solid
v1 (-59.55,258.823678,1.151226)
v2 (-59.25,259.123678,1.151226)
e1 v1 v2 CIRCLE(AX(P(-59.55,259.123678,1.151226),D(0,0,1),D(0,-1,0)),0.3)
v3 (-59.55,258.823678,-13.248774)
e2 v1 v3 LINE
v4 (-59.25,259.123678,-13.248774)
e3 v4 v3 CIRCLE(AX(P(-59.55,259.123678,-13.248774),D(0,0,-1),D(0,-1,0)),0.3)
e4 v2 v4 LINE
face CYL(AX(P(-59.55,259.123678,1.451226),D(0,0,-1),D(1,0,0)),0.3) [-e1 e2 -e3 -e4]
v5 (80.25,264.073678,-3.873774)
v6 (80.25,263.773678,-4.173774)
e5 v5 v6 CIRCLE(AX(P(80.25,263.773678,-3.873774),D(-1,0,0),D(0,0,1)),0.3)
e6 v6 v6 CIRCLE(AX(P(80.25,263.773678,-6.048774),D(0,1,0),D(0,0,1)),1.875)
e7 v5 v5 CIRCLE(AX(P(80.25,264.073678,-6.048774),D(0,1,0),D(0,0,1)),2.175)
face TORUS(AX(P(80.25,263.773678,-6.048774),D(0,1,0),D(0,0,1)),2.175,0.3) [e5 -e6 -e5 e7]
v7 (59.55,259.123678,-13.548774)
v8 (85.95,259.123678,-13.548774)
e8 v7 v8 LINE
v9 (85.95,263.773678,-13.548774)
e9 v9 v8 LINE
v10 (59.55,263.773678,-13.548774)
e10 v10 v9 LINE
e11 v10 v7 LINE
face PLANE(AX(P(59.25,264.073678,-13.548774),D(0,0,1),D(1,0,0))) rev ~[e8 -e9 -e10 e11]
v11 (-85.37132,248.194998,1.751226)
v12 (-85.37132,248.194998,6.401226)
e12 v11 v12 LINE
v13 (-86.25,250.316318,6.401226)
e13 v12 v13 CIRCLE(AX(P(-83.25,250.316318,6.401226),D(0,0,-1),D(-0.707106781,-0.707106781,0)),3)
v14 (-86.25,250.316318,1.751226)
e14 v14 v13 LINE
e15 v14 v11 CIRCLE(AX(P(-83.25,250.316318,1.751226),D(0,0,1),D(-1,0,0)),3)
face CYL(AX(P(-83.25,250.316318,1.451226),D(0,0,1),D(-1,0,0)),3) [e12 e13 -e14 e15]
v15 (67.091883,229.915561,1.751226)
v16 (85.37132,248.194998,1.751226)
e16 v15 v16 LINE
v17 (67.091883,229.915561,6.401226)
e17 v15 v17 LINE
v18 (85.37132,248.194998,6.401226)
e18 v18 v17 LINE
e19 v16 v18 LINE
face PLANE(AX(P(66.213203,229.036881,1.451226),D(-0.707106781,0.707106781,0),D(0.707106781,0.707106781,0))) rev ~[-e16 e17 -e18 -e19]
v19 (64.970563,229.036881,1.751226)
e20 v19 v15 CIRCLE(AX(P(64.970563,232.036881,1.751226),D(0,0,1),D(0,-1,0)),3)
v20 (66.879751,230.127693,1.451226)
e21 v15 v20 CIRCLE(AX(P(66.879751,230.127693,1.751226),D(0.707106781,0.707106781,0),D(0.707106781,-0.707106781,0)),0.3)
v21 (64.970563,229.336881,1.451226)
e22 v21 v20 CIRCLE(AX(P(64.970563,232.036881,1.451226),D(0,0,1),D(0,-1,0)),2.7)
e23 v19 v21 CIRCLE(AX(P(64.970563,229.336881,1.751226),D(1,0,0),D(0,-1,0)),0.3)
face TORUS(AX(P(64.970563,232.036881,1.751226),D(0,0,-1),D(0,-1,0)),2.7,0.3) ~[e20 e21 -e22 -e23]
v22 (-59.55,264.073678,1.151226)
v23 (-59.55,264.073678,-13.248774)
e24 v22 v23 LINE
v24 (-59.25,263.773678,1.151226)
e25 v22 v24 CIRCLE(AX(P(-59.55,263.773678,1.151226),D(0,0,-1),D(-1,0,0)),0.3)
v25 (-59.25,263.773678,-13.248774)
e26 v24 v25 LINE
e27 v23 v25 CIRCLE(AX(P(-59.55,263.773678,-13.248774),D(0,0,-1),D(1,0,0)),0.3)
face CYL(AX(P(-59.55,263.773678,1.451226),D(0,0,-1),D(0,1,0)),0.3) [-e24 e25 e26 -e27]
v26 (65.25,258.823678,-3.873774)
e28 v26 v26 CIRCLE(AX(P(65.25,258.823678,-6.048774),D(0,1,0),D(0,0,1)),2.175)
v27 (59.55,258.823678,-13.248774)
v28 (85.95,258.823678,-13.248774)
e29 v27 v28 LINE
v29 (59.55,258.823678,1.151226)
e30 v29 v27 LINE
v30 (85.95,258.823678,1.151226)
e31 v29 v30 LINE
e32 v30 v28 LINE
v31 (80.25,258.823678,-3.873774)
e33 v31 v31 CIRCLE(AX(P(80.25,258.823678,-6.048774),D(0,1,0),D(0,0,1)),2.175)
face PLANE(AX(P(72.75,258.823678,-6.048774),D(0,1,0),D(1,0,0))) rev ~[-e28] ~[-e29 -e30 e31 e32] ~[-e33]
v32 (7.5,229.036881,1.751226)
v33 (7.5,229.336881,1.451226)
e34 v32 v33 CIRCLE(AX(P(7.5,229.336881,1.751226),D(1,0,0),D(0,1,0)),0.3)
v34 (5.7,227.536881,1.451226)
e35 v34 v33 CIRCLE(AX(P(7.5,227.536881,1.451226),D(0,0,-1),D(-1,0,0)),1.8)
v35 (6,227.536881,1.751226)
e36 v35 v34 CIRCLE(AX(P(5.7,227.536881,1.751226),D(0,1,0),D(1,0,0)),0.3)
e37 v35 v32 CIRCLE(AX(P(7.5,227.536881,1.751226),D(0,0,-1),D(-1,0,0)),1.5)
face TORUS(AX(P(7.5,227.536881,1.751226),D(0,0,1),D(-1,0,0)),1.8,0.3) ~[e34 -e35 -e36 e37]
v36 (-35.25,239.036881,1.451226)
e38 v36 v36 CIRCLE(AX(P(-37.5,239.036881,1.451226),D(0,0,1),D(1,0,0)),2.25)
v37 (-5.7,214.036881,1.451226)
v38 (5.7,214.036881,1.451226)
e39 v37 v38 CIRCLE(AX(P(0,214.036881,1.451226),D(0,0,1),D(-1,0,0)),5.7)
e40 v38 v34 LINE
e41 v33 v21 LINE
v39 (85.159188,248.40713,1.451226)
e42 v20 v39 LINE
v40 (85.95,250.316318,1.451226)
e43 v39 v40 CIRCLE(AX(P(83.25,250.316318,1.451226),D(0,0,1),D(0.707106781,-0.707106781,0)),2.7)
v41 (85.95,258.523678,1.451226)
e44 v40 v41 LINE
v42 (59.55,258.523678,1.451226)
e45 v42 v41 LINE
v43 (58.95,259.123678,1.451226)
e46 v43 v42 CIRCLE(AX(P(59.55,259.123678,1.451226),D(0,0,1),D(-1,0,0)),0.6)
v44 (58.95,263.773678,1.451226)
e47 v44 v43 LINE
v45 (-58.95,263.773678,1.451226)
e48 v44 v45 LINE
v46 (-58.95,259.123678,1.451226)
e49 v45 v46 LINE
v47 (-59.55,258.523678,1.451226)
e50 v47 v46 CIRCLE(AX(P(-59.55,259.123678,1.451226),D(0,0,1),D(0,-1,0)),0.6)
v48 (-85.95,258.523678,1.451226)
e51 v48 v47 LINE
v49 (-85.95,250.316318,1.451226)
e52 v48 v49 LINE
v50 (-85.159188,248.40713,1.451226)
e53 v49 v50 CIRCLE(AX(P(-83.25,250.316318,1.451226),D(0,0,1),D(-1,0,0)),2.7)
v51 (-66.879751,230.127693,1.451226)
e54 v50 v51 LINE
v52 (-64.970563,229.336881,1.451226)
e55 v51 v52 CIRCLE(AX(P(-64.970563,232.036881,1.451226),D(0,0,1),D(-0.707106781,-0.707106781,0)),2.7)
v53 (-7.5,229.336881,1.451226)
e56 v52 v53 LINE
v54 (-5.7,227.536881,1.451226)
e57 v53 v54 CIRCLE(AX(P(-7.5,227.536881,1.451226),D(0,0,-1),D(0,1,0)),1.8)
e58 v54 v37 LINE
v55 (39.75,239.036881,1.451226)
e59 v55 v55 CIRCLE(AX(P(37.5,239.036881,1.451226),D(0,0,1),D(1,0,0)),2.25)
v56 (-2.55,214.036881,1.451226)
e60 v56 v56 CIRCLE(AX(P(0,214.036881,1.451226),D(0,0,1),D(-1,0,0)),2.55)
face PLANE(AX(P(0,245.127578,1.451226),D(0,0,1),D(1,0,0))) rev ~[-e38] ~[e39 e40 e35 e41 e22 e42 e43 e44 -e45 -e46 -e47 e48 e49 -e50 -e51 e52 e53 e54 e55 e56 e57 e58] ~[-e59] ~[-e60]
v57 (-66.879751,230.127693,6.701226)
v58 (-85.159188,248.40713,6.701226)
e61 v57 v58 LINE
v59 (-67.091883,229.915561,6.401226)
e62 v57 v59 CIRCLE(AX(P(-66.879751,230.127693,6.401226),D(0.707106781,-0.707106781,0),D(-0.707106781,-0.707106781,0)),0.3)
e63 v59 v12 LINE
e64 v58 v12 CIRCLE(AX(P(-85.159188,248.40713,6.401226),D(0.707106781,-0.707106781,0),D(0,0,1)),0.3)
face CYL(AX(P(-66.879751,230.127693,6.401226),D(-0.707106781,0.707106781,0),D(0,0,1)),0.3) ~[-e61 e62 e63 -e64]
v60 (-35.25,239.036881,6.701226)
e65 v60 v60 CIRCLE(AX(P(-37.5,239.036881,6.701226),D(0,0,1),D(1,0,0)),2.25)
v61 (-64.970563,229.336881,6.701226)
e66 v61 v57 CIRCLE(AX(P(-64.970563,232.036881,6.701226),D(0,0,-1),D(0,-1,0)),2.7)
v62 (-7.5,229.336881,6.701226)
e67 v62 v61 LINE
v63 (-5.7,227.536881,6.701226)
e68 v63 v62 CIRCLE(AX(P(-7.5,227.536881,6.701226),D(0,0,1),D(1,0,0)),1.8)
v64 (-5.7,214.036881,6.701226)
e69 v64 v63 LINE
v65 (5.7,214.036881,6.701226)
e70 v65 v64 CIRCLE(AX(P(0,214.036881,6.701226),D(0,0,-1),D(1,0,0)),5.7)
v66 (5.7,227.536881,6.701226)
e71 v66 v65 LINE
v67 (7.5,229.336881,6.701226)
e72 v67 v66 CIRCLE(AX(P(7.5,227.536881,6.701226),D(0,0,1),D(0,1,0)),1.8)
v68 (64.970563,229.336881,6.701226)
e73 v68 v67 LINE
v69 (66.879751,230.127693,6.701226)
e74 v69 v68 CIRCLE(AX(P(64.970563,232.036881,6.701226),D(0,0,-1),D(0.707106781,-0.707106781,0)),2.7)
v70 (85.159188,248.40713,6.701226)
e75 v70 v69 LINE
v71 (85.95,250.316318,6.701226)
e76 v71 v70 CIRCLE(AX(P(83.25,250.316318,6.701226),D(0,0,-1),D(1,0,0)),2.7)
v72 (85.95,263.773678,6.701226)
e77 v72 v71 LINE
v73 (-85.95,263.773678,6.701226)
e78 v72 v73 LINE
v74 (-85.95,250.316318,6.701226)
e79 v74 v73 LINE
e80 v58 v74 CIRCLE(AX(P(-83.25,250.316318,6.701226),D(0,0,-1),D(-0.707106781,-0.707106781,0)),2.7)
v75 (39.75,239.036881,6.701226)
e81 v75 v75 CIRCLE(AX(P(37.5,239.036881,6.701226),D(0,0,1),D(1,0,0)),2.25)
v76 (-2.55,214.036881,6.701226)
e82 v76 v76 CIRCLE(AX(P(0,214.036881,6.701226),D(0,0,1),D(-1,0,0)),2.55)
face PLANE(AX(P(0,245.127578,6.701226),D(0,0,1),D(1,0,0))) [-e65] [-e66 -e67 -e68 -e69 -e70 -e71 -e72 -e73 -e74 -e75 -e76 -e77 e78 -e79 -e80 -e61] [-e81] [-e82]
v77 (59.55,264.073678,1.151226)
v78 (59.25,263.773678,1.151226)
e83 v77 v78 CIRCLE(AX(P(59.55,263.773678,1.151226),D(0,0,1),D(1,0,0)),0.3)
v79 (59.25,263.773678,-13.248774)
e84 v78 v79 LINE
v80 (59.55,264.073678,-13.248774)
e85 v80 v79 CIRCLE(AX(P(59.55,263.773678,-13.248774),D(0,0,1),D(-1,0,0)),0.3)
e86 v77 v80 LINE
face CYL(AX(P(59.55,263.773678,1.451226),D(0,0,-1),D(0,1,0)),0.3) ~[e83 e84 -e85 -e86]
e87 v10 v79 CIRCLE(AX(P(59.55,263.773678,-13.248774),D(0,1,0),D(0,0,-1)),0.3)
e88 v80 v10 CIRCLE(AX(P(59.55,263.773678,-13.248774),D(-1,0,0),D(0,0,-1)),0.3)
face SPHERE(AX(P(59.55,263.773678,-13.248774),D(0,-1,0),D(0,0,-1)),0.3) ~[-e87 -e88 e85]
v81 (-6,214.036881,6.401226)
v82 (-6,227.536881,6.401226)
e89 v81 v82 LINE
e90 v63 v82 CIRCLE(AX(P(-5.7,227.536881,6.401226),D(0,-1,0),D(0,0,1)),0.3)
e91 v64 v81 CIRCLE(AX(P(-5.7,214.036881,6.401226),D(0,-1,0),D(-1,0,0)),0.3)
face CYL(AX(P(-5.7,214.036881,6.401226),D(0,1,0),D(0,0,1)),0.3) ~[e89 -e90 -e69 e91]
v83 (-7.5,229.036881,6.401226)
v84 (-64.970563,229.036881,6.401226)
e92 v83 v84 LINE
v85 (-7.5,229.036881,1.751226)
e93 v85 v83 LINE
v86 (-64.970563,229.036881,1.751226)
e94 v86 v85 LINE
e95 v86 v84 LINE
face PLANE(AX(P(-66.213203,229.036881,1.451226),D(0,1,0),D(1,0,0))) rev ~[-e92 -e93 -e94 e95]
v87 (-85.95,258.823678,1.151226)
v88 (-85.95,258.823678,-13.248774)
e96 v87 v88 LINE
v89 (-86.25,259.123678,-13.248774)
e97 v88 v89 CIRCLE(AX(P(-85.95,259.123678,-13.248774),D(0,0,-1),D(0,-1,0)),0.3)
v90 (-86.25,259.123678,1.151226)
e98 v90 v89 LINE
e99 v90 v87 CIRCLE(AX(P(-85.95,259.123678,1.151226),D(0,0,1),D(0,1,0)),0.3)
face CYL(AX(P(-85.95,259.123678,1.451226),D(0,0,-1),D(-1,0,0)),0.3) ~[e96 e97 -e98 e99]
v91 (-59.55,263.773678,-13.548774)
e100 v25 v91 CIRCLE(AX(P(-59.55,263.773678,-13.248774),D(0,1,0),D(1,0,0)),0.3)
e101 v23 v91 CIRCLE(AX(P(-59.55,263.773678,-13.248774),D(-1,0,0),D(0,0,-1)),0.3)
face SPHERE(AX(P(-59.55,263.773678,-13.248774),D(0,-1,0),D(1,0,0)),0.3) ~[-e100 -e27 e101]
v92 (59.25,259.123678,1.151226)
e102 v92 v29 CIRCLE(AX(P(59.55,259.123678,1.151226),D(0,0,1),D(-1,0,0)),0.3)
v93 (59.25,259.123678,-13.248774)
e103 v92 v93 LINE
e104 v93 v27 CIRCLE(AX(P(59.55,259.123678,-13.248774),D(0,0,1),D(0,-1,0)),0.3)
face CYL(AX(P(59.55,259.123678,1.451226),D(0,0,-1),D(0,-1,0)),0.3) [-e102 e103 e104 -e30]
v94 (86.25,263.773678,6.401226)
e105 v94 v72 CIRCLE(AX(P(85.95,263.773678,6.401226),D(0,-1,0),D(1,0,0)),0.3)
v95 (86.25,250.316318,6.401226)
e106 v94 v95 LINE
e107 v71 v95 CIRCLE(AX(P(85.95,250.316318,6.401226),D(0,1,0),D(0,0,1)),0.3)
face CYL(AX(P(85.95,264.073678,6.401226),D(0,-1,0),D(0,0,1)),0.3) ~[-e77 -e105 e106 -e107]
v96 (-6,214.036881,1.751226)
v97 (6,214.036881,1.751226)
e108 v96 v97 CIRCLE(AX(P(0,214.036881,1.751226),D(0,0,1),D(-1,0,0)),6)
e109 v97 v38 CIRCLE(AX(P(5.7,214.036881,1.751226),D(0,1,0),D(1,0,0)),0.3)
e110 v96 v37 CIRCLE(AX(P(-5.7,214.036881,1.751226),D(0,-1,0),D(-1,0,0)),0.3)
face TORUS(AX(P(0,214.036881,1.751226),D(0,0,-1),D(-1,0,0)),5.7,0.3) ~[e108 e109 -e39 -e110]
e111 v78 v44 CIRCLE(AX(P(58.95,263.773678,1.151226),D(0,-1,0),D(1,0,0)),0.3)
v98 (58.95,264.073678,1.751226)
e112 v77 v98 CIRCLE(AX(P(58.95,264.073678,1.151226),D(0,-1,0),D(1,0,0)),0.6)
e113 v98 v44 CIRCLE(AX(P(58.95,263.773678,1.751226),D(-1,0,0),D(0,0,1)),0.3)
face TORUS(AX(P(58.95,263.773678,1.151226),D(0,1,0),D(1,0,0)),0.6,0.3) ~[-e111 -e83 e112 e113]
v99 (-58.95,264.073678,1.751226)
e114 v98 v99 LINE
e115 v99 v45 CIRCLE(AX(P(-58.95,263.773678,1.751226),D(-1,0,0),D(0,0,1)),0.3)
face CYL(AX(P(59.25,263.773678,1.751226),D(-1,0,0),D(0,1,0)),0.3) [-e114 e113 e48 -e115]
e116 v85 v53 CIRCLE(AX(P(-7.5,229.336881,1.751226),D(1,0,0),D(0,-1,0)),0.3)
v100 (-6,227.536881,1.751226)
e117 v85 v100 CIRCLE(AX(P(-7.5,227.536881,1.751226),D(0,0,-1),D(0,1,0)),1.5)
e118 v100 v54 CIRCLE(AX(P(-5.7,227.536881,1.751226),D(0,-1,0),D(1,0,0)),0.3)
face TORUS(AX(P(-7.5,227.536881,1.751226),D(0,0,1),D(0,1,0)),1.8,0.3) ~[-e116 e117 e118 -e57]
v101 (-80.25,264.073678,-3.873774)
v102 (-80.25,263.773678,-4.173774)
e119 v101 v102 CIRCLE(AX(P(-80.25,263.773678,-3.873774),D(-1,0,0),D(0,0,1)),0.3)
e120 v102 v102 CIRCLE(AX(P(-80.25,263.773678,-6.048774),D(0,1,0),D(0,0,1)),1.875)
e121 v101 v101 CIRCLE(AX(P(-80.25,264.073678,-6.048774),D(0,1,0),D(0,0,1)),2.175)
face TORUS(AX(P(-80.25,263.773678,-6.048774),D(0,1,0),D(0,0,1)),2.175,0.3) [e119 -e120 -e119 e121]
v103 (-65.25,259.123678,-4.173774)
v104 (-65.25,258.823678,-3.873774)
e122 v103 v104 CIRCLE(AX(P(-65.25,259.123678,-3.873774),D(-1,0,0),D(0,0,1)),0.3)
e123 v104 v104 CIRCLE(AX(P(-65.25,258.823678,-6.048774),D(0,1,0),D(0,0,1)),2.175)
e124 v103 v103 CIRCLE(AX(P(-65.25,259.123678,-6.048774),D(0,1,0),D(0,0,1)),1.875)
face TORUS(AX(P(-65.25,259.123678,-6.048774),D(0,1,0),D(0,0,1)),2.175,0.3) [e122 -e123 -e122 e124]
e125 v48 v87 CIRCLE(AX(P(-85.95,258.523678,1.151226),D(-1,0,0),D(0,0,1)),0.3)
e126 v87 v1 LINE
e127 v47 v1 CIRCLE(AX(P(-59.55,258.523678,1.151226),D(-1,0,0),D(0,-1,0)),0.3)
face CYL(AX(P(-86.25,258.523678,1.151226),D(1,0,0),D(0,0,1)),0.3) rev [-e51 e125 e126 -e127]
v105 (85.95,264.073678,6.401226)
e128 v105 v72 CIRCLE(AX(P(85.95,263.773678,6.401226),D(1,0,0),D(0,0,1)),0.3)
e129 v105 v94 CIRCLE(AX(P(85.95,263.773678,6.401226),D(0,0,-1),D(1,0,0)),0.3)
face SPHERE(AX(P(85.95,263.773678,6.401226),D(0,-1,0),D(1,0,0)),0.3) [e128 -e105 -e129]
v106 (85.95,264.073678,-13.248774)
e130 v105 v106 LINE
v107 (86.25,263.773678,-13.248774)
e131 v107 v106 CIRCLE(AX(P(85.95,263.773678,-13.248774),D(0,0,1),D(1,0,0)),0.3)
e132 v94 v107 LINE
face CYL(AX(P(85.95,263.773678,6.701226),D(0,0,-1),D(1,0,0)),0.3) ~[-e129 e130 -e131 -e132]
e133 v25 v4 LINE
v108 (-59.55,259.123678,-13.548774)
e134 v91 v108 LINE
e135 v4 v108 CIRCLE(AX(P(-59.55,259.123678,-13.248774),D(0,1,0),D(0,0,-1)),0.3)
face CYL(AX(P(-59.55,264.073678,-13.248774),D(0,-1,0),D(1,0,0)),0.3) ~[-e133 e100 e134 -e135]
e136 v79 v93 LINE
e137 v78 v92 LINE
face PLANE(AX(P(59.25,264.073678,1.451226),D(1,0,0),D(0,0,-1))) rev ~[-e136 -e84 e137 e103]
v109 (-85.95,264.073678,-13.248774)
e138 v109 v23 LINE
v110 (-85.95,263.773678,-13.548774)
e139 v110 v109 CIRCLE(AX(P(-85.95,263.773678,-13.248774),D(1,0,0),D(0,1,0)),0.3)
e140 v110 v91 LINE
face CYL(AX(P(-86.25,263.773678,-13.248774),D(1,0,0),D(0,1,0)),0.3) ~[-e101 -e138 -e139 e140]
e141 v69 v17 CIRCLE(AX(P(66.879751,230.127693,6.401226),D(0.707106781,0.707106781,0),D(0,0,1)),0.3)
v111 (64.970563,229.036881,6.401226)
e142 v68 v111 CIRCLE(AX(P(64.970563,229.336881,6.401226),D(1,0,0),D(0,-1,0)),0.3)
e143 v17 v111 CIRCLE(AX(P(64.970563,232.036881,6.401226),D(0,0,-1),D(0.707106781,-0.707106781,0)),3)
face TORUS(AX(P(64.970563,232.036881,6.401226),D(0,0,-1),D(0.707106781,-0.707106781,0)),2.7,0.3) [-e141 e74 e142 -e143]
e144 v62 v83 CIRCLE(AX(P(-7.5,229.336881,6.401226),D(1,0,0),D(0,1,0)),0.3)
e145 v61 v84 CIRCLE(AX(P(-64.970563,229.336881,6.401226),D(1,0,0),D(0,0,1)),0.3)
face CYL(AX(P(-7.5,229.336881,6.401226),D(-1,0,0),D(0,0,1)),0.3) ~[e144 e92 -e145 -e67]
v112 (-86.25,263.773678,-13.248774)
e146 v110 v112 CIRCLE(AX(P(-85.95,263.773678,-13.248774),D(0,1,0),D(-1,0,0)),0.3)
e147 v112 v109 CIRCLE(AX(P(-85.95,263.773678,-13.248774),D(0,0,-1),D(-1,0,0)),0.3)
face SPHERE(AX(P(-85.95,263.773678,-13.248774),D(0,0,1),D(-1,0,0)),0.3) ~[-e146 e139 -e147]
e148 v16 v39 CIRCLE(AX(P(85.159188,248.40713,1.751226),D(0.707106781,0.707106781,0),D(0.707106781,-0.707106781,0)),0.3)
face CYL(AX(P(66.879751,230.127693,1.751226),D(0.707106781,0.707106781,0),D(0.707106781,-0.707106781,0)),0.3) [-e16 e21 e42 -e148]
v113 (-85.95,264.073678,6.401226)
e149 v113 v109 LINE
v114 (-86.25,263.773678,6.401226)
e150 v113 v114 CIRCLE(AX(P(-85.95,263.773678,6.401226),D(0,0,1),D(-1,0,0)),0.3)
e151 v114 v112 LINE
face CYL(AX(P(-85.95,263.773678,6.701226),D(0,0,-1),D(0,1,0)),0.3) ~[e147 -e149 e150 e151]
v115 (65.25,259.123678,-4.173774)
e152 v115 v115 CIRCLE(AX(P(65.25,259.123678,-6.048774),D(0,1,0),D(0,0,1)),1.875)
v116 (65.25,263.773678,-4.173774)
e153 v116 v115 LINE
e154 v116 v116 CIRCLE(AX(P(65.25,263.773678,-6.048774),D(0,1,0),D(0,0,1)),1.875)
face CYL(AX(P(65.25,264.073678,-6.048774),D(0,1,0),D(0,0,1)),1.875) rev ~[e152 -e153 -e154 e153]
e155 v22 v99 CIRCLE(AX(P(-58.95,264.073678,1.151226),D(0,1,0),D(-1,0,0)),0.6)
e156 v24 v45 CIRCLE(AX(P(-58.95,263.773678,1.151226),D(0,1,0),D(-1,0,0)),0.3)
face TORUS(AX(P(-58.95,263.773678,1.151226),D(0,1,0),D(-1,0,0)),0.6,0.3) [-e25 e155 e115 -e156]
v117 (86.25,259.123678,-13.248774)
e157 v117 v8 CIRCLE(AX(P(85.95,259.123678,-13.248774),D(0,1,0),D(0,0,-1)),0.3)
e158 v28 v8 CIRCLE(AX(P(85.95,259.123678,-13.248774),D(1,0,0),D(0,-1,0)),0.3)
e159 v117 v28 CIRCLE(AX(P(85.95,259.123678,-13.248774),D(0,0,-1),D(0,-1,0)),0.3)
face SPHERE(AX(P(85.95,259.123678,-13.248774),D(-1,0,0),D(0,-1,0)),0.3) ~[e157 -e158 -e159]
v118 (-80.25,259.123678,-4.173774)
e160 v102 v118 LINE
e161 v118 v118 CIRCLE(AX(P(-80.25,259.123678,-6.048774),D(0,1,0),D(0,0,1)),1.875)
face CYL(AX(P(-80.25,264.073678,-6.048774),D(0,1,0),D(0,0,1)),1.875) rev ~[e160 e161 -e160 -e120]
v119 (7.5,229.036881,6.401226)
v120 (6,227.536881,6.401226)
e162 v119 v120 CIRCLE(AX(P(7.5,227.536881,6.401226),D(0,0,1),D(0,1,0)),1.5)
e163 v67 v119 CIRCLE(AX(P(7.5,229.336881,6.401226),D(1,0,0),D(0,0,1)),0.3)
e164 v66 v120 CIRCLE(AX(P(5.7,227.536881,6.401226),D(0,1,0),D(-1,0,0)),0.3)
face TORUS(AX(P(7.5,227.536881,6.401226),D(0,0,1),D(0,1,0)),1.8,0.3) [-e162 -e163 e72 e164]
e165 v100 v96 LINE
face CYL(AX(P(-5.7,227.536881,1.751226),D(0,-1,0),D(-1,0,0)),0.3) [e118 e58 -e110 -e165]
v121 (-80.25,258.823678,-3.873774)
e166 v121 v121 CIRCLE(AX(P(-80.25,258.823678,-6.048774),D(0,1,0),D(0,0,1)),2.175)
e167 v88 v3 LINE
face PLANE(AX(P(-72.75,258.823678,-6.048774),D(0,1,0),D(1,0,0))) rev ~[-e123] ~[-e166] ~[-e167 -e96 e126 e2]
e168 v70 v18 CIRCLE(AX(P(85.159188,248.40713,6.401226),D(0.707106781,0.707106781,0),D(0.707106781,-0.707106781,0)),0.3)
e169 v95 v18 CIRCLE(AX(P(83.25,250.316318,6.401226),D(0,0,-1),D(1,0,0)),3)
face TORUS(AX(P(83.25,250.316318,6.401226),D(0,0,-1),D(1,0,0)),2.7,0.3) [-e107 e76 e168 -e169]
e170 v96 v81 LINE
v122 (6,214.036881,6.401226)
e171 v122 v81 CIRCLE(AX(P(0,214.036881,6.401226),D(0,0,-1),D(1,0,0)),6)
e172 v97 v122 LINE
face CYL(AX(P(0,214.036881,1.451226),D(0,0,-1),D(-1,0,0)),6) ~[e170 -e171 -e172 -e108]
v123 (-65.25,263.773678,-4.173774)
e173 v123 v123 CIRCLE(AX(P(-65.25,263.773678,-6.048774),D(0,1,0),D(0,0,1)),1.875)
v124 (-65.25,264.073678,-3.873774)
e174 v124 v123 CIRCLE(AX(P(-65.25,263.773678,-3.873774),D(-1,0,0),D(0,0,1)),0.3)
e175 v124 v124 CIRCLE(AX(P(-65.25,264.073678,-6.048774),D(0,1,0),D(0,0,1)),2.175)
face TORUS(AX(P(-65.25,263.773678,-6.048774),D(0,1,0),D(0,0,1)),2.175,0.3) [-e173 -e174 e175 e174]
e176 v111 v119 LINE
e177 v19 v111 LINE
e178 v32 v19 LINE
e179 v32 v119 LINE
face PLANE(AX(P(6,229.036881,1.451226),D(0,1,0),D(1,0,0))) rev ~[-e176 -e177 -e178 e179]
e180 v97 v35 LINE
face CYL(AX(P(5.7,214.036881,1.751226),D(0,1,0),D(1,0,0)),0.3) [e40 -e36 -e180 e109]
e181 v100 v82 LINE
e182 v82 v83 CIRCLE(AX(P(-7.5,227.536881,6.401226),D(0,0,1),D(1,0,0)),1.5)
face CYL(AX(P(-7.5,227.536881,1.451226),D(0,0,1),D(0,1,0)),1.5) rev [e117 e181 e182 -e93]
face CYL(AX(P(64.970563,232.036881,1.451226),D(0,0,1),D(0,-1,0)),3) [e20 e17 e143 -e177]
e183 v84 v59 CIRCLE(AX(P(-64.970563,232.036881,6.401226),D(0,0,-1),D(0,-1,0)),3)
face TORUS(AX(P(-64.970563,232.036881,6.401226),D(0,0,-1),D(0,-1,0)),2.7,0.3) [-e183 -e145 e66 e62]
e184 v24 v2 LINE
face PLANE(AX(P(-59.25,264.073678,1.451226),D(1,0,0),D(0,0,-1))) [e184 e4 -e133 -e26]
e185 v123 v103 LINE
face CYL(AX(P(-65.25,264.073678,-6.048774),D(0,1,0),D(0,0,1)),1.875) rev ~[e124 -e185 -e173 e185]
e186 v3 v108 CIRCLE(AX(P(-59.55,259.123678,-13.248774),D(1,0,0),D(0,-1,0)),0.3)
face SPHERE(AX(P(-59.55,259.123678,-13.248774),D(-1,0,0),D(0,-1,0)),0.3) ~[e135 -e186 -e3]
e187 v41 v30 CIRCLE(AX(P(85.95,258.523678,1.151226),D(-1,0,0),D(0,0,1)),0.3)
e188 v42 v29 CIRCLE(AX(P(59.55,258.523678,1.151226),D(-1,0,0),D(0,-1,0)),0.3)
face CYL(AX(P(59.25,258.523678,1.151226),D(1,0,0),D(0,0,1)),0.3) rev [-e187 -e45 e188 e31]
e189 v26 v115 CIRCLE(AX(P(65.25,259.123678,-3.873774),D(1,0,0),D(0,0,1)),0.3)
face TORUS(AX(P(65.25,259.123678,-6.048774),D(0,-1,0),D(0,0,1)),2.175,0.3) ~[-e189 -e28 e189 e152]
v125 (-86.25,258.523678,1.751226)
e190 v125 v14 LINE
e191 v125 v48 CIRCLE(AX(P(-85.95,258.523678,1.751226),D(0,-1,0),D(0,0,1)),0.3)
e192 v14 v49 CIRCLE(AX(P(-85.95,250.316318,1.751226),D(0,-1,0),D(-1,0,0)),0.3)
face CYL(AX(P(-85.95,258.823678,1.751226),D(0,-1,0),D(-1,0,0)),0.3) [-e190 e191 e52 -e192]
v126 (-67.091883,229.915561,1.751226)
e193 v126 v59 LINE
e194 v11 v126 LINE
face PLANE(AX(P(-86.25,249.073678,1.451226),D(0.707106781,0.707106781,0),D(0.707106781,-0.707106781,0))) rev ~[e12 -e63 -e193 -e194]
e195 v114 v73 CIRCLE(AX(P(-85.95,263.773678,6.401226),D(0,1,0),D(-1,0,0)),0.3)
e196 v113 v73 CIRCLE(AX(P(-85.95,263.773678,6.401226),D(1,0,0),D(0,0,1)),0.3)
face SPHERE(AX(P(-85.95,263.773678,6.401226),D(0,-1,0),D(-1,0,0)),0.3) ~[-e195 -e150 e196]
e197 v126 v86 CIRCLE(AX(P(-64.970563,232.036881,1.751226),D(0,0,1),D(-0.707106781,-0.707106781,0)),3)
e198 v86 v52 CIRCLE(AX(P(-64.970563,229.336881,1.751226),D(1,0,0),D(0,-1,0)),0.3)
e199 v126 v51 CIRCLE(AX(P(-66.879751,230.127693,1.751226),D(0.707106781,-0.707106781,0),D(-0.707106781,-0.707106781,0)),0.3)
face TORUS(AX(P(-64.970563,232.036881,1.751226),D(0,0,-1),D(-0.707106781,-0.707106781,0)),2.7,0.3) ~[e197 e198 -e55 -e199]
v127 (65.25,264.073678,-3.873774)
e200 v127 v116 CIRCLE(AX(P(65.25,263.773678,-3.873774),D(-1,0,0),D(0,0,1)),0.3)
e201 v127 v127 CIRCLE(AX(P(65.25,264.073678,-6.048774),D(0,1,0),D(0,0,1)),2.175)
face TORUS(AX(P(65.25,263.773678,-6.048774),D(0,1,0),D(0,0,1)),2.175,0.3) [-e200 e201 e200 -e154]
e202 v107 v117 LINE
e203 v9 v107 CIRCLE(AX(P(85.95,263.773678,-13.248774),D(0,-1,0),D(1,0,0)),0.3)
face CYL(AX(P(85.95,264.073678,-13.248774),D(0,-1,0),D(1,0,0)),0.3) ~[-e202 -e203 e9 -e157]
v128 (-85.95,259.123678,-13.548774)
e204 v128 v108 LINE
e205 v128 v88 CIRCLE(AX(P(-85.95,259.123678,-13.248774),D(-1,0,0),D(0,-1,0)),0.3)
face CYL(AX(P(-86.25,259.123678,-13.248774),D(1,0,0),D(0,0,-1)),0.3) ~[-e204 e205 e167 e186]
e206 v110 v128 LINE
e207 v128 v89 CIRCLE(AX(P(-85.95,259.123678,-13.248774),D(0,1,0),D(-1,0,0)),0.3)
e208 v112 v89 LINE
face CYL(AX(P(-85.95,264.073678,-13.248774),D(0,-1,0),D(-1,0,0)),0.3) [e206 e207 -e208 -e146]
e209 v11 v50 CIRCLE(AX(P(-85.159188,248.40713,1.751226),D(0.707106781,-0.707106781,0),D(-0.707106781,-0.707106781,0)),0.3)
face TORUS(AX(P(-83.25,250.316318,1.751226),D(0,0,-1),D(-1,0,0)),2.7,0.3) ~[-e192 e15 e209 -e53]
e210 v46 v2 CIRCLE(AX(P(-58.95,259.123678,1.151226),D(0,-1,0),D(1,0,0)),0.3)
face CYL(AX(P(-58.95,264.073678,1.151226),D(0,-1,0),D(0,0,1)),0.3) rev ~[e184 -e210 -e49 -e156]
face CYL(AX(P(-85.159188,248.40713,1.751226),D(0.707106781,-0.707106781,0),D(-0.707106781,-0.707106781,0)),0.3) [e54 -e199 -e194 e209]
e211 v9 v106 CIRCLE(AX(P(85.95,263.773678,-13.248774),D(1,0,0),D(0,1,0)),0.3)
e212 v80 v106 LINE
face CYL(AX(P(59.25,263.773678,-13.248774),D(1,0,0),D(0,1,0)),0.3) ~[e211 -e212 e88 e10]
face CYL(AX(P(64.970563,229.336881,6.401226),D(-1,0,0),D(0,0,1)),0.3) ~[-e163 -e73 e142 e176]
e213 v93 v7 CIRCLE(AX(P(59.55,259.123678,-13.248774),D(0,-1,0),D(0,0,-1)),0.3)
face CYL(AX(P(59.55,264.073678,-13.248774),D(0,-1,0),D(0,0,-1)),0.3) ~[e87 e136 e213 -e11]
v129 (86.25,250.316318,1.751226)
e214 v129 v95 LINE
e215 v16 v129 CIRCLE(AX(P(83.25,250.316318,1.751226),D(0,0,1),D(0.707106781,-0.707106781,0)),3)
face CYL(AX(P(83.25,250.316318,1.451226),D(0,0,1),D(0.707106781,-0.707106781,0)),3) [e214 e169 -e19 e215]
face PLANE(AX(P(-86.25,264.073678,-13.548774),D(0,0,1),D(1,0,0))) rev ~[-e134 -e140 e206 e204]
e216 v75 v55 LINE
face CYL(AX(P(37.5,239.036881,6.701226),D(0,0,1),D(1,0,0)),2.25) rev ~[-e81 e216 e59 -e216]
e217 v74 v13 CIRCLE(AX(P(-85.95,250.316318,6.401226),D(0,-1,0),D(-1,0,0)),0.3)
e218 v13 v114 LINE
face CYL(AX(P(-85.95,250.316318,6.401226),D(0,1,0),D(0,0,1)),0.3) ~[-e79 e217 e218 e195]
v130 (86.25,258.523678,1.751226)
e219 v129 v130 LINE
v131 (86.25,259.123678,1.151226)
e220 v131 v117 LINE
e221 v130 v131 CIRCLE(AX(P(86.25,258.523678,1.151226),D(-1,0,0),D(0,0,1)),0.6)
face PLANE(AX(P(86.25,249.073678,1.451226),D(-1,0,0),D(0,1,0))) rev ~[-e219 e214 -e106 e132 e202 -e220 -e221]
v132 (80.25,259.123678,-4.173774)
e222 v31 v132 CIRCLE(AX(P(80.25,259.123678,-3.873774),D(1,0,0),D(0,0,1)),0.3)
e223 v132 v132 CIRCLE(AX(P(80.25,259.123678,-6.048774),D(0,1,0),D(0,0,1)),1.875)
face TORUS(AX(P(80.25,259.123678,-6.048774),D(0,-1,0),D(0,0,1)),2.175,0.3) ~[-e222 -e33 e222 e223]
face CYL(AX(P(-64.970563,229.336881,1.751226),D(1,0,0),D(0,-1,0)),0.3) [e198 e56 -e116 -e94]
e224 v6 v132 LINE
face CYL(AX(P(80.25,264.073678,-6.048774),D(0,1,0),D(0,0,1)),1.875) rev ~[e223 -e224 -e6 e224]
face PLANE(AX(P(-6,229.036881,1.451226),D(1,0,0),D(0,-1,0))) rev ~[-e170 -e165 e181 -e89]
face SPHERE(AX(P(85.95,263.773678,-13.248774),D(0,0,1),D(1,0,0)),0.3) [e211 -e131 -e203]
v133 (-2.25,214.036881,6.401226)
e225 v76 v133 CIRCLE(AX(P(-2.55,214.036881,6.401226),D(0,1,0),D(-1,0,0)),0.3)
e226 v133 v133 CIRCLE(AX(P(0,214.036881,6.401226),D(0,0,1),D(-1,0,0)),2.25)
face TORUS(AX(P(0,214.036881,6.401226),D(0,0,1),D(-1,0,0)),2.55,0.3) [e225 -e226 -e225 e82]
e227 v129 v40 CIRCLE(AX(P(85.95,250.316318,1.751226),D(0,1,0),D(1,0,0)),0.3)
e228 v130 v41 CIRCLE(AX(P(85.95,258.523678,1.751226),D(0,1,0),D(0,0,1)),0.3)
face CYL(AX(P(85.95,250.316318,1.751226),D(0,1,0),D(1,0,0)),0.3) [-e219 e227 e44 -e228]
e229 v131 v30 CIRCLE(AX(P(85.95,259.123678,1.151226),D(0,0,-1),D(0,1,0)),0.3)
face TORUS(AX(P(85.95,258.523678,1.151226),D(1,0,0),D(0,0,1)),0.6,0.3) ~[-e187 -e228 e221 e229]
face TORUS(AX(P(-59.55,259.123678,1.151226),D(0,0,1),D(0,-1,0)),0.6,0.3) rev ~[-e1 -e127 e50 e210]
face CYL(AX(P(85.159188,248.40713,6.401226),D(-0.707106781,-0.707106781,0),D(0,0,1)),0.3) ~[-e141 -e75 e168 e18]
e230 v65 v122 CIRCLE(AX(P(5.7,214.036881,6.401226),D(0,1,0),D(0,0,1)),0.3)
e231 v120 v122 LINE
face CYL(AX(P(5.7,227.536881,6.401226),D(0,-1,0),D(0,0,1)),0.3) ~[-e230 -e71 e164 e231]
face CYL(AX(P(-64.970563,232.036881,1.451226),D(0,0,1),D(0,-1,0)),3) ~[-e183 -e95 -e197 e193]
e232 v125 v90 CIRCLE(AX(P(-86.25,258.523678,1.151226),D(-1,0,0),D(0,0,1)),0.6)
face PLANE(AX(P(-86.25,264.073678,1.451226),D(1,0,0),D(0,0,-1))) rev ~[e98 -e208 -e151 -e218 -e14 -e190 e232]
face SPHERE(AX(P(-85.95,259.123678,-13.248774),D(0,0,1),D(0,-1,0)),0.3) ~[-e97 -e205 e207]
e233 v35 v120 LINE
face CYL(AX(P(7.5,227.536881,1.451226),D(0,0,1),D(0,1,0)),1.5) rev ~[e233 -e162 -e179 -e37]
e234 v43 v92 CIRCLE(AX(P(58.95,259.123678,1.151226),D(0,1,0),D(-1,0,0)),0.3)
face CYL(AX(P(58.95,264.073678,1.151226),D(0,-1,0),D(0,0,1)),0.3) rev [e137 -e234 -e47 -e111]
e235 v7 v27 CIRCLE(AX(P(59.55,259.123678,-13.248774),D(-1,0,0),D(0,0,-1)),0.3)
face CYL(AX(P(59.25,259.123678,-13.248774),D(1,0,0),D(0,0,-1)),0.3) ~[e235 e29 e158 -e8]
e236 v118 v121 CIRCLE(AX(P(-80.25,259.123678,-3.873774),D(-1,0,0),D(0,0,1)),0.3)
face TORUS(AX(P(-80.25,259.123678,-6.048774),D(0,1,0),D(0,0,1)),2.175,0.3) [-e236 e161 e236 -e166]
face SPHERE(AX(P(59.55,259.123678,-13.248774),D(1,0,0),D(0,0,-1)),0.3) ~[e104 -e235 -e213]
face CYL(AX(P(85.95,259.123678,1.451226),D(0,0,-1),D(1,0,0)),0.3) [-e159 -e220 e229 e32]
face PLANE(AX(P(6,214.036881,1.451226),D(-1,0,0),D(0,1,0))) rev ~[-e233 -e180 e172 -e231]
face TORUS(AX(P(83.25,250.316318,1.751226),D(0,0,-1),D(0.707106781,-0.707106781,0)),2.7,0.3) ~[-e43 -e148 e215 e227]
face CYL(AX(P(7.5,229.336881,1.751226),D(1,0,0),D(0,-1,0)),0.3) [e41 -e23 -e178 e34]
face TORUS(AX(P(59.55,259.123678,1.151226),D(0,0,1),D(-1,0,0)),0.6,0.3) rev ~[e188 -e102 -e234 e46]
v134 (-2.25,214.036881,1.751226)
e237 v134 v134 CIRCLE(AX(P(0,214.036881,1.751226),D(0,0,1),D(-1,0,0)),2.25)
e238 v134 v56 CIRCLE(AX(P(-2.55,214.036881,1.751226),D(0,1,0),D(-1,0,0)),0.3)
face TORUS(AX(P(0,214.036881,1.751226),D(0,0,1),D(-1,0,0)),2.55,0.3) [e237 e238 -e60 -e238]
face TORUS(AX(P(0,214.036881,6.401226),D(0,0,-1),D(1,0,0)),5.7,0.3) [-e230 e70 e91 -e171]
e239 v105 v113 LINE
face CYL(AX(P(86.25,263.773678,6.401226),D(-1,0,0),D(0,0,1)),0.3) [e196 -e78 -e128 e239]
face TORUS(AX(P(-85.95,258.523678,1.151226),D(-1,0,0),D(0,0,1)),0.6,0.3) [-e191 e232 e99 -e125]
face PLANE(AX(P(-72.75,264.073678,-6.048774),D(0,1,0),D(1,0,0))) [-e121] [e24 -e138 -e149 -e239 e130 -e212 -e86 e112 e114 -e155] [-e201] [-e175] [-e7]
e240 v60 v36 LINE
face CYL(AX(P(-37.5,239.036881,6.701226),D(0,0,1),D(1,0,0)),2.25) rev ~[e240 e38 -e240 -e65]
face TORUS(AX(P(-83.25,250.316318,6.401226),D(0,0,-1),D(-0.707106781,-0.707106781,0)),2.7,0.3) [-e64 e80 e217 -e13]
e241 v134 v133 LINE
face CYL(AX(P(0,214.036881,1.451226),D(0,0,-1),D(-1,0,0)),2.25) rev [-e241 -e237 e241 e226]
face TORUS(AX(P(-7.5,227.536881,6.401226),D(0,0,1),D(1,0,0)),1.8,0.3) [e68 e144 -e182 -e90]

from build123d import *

# Parameters (mm, degrees)
SKETCH5_R           = 4.5
BOSS_EXTRUDE2_DEPTH = 10.5
SKETCH8_W           = 54
SKETCH8_H           = 30
SKETCH8_R           = 3.75
BOSS_EXTRUDE3_DEPTH = 10.5
FILLET1_R           = 6
FILLET3_R           = 3
FILLET5_R           = 0.6
SKETCH11_R          = 4.5
CUT_EXTRUDE3_DEPTH  = 332.417738902
SCALE1_SCALE        = 0.5


with BuildPart() as part:
    # Sketch5 → Boss-Extrude2 (new body)
    with BuildSketch(Plane.XY):
        with BuildLine():
            Line((172.5, 280.073593129), (-172.5, 280.073593129))
            Line((-172.5, 280.073593129), (-172.5, 250.073593129))
            Line((-172.5, 250.073593129), (-132.426406871, 210))
            Line((-132.426406871, 210), (-12, 210))
            Line((-12, 210), (-12, 180))
            ThreePointArc((-12, 180), (0, 168), (12, 180))
            Line((12, 180), (12, 210))
            Line((12, 210), (132.426406871, 210))
            Line((132.426406871, 210), (172.5, 250.073593129))
            Line((172.5, 250.073593129), (172.5, 280.073593129))
        make_face()
        with Locations(Location((0, 180, 0), (0, 0, 180))):
            Circle(SKETCH5_R, mode=Mode.SUBTRACT)
    extrude(amount=BOSS_EXTRUDE2_DEPTH)

    # Sketch8 → Boss-Extrude3 (add)
    # profile 1 of 2: a face of its own
    with BuildSketch(Plane(origin=(0, 280.073593129, 0), x_dir=(1, 0, 0), z_dir=(0, 1, 0))):
        with Locations((-145.5, 15)):
            Rectangle(SKETCH8_W, SKETCH8_H)
        with Locations(Location((-130.5, 15, 0), (0, 0, 270))):
            Circle(SKETCH8_R, mode=Mode.SUBTRACT)
        with Locations(Location((-160.5, 15, 0), (0, 0, 270))):
            Circle(SKETCH8_R, mode=Mode.SUBTRACT)
    # profile 2 of 2: a face of its own
    with BuildSketch(Plane(origin=(0, 280.073593129, 0), x_dir=(1, 0, 0), z_dir=(0, 1, 0))):
        with Locations((145.5, 15)):
            Rectangle(SKETCH8_W, SKETCH8_H)
        with Locations(Location((160.5, 15, 0), (0, 0, 270))):
            Circle(SKETCH8_R, mode=Mode.SUBTRACT)
        with Locations(Location((130.5, 15, 0), (0, 0, 270))):
            Circle(SKETCH8_R, mode=Mode.SUBTRACT)
    extrude(amount=-BOSS_EXTRUDE3_DEPTH)

    # Fillet1
    fillet1_edges = [part.edges().sort_by_distance(p)[0] for p in [
        (172.5, 250.073593129, 5.25),
        (132.426406871, 210, 5.25),
        (-132.426406871, 210, 5.25),
        (-172.5, 250.073593129, 5.25),
    ]]
    fillet(fillet1_edges, radius=FILLET1_R)

    # Fillet3
    fillet3_edges = [part.edges().sort_by_distance(p)[0] for p in [
        (12, 210, 5.25),
        (-12, 210, 5.25),
    ]]
    fillet(fillet3_edges, radius=FILLET3_R)

    # Fillet5
    fillet5_edges = [part.edges().sort_by_distance(p)[0] for p in [
        (12.878679656, 209.121320344, 10.5),
        (-12.878679656, 209.121320344, 0),
        (-12.878679656, 209.121320344, 10.5),
        (12, 193.5, 0),
        (0, 168, 0),
        (-172.5, 280.073593129, -9.75),
        (172.5, 280.073593129, -9.75),
        (0, 168, 10.5),
        (12, 193.5, 10.5),
        (4.5, 180, 0),
        (4.5, 180, 10.5),
        (-172.5, 261.066233816, 0),
        (-172.5, 269.573593129, -15),
        (-145.5, 269.573593129, -30),
        (-172.5, 274.823593129, -30),
        (-118.5, 269.573593129, -15),
        (-118.5, 274.823593129, -30),
        (-145.5, 269.573593129, 0),
        (-118.5, 274.823593129, 0),
        (-160.5, 269.573593129, -18.75),
        (-130.5, 269.573593129, -18.75),
        (-118.5, 280.073593129, -15),
        (-145.5, 280.073593129, -30),
        (-130.5, 280.073593129, -18.75),
        (-160.5, 280.073593129, -18.75),
        (0, 280.073593129, 10.5),
        (0, 280.073593129, 0),
        (-172.5, 266.316233816, 10.5),
        (145.5, 269.573593129, -30),
        (118.5, 274.823593129, -30),
        (172.5, 269.573593129, -15),
        (172.5, 274.823593129, -30),
        (145.5, 269.573593129, 0),
        (118.5, 269.573593129, -15),
        (118.5, 274.823593129, 0),
        (130.5, 269.573593129, -18.75),
        (160.5, 269.573593129, -18.75),
        (145.5, 280.073593129, -30),
        (118.5, 280.073593129, -15),
        (160.5, 280.073593129, -18.75),
        (130.5, 280.073593129, -18.75),
        (172.5, 261.066233816, 0),
        (172.5, 266.316233816, 10.5),
        (152.463203436, 230.036796564, 0),
        (-72.470562748, 210, 0),
        (-152.463203436, 230.036796564, 0),
        (-132.237226091, 210.456722805, 0),
        (-172.043277195, 250.262773909, 0),
        (132.237226091, 210.456722805, 0),
        (172.043277195, 250.262773909, 0),
        (152.463203436, 230.036796564, 10.5),
        (-152.463203436, 230.036796564, 10.5),
        (-72.470562748, 210, 10.5),
        (-132.237226091, 210.456722805, 10.5),
        (-172.043277195, 250.262773909, 10.5),
        (132.237226091, 210.456722805, 10.5),
        (172.043277195, 250.262773909, 10.5),
        (72.470562748, 210, 0),
        (72.470562748, 210, 10.5),
        (-12, 193.5, 0),
        (-12, 193.5, 10.5),
        (12.878679656, 209.121320344, 0),
    ]]
    fillet(fillet5_edges, radius=FILLET5_R)

    # Sketch11 → Cut-Extrude3 (cut, through all)
    with BuildSketch(Plane.XY.offset(10.5)):
        with Locations((75, 230)):
            Circle(SKETCH11_R)
        with Locations((-75, 230)):
            Circle(SKETCH11_R)
    extrude(amount=-CUT_EXTRUDE3_DEPTH, mode=Mode.SUBTRACT)


with BuildPart() as part_1:
    # Scale1: scaled about (0, 248.073762377, 2.902451878)
    add(part.part.scale(SCALE1_SCALE).moved(Location((0, 124.036881189, 1.451225939))))


solid = part_1.part
